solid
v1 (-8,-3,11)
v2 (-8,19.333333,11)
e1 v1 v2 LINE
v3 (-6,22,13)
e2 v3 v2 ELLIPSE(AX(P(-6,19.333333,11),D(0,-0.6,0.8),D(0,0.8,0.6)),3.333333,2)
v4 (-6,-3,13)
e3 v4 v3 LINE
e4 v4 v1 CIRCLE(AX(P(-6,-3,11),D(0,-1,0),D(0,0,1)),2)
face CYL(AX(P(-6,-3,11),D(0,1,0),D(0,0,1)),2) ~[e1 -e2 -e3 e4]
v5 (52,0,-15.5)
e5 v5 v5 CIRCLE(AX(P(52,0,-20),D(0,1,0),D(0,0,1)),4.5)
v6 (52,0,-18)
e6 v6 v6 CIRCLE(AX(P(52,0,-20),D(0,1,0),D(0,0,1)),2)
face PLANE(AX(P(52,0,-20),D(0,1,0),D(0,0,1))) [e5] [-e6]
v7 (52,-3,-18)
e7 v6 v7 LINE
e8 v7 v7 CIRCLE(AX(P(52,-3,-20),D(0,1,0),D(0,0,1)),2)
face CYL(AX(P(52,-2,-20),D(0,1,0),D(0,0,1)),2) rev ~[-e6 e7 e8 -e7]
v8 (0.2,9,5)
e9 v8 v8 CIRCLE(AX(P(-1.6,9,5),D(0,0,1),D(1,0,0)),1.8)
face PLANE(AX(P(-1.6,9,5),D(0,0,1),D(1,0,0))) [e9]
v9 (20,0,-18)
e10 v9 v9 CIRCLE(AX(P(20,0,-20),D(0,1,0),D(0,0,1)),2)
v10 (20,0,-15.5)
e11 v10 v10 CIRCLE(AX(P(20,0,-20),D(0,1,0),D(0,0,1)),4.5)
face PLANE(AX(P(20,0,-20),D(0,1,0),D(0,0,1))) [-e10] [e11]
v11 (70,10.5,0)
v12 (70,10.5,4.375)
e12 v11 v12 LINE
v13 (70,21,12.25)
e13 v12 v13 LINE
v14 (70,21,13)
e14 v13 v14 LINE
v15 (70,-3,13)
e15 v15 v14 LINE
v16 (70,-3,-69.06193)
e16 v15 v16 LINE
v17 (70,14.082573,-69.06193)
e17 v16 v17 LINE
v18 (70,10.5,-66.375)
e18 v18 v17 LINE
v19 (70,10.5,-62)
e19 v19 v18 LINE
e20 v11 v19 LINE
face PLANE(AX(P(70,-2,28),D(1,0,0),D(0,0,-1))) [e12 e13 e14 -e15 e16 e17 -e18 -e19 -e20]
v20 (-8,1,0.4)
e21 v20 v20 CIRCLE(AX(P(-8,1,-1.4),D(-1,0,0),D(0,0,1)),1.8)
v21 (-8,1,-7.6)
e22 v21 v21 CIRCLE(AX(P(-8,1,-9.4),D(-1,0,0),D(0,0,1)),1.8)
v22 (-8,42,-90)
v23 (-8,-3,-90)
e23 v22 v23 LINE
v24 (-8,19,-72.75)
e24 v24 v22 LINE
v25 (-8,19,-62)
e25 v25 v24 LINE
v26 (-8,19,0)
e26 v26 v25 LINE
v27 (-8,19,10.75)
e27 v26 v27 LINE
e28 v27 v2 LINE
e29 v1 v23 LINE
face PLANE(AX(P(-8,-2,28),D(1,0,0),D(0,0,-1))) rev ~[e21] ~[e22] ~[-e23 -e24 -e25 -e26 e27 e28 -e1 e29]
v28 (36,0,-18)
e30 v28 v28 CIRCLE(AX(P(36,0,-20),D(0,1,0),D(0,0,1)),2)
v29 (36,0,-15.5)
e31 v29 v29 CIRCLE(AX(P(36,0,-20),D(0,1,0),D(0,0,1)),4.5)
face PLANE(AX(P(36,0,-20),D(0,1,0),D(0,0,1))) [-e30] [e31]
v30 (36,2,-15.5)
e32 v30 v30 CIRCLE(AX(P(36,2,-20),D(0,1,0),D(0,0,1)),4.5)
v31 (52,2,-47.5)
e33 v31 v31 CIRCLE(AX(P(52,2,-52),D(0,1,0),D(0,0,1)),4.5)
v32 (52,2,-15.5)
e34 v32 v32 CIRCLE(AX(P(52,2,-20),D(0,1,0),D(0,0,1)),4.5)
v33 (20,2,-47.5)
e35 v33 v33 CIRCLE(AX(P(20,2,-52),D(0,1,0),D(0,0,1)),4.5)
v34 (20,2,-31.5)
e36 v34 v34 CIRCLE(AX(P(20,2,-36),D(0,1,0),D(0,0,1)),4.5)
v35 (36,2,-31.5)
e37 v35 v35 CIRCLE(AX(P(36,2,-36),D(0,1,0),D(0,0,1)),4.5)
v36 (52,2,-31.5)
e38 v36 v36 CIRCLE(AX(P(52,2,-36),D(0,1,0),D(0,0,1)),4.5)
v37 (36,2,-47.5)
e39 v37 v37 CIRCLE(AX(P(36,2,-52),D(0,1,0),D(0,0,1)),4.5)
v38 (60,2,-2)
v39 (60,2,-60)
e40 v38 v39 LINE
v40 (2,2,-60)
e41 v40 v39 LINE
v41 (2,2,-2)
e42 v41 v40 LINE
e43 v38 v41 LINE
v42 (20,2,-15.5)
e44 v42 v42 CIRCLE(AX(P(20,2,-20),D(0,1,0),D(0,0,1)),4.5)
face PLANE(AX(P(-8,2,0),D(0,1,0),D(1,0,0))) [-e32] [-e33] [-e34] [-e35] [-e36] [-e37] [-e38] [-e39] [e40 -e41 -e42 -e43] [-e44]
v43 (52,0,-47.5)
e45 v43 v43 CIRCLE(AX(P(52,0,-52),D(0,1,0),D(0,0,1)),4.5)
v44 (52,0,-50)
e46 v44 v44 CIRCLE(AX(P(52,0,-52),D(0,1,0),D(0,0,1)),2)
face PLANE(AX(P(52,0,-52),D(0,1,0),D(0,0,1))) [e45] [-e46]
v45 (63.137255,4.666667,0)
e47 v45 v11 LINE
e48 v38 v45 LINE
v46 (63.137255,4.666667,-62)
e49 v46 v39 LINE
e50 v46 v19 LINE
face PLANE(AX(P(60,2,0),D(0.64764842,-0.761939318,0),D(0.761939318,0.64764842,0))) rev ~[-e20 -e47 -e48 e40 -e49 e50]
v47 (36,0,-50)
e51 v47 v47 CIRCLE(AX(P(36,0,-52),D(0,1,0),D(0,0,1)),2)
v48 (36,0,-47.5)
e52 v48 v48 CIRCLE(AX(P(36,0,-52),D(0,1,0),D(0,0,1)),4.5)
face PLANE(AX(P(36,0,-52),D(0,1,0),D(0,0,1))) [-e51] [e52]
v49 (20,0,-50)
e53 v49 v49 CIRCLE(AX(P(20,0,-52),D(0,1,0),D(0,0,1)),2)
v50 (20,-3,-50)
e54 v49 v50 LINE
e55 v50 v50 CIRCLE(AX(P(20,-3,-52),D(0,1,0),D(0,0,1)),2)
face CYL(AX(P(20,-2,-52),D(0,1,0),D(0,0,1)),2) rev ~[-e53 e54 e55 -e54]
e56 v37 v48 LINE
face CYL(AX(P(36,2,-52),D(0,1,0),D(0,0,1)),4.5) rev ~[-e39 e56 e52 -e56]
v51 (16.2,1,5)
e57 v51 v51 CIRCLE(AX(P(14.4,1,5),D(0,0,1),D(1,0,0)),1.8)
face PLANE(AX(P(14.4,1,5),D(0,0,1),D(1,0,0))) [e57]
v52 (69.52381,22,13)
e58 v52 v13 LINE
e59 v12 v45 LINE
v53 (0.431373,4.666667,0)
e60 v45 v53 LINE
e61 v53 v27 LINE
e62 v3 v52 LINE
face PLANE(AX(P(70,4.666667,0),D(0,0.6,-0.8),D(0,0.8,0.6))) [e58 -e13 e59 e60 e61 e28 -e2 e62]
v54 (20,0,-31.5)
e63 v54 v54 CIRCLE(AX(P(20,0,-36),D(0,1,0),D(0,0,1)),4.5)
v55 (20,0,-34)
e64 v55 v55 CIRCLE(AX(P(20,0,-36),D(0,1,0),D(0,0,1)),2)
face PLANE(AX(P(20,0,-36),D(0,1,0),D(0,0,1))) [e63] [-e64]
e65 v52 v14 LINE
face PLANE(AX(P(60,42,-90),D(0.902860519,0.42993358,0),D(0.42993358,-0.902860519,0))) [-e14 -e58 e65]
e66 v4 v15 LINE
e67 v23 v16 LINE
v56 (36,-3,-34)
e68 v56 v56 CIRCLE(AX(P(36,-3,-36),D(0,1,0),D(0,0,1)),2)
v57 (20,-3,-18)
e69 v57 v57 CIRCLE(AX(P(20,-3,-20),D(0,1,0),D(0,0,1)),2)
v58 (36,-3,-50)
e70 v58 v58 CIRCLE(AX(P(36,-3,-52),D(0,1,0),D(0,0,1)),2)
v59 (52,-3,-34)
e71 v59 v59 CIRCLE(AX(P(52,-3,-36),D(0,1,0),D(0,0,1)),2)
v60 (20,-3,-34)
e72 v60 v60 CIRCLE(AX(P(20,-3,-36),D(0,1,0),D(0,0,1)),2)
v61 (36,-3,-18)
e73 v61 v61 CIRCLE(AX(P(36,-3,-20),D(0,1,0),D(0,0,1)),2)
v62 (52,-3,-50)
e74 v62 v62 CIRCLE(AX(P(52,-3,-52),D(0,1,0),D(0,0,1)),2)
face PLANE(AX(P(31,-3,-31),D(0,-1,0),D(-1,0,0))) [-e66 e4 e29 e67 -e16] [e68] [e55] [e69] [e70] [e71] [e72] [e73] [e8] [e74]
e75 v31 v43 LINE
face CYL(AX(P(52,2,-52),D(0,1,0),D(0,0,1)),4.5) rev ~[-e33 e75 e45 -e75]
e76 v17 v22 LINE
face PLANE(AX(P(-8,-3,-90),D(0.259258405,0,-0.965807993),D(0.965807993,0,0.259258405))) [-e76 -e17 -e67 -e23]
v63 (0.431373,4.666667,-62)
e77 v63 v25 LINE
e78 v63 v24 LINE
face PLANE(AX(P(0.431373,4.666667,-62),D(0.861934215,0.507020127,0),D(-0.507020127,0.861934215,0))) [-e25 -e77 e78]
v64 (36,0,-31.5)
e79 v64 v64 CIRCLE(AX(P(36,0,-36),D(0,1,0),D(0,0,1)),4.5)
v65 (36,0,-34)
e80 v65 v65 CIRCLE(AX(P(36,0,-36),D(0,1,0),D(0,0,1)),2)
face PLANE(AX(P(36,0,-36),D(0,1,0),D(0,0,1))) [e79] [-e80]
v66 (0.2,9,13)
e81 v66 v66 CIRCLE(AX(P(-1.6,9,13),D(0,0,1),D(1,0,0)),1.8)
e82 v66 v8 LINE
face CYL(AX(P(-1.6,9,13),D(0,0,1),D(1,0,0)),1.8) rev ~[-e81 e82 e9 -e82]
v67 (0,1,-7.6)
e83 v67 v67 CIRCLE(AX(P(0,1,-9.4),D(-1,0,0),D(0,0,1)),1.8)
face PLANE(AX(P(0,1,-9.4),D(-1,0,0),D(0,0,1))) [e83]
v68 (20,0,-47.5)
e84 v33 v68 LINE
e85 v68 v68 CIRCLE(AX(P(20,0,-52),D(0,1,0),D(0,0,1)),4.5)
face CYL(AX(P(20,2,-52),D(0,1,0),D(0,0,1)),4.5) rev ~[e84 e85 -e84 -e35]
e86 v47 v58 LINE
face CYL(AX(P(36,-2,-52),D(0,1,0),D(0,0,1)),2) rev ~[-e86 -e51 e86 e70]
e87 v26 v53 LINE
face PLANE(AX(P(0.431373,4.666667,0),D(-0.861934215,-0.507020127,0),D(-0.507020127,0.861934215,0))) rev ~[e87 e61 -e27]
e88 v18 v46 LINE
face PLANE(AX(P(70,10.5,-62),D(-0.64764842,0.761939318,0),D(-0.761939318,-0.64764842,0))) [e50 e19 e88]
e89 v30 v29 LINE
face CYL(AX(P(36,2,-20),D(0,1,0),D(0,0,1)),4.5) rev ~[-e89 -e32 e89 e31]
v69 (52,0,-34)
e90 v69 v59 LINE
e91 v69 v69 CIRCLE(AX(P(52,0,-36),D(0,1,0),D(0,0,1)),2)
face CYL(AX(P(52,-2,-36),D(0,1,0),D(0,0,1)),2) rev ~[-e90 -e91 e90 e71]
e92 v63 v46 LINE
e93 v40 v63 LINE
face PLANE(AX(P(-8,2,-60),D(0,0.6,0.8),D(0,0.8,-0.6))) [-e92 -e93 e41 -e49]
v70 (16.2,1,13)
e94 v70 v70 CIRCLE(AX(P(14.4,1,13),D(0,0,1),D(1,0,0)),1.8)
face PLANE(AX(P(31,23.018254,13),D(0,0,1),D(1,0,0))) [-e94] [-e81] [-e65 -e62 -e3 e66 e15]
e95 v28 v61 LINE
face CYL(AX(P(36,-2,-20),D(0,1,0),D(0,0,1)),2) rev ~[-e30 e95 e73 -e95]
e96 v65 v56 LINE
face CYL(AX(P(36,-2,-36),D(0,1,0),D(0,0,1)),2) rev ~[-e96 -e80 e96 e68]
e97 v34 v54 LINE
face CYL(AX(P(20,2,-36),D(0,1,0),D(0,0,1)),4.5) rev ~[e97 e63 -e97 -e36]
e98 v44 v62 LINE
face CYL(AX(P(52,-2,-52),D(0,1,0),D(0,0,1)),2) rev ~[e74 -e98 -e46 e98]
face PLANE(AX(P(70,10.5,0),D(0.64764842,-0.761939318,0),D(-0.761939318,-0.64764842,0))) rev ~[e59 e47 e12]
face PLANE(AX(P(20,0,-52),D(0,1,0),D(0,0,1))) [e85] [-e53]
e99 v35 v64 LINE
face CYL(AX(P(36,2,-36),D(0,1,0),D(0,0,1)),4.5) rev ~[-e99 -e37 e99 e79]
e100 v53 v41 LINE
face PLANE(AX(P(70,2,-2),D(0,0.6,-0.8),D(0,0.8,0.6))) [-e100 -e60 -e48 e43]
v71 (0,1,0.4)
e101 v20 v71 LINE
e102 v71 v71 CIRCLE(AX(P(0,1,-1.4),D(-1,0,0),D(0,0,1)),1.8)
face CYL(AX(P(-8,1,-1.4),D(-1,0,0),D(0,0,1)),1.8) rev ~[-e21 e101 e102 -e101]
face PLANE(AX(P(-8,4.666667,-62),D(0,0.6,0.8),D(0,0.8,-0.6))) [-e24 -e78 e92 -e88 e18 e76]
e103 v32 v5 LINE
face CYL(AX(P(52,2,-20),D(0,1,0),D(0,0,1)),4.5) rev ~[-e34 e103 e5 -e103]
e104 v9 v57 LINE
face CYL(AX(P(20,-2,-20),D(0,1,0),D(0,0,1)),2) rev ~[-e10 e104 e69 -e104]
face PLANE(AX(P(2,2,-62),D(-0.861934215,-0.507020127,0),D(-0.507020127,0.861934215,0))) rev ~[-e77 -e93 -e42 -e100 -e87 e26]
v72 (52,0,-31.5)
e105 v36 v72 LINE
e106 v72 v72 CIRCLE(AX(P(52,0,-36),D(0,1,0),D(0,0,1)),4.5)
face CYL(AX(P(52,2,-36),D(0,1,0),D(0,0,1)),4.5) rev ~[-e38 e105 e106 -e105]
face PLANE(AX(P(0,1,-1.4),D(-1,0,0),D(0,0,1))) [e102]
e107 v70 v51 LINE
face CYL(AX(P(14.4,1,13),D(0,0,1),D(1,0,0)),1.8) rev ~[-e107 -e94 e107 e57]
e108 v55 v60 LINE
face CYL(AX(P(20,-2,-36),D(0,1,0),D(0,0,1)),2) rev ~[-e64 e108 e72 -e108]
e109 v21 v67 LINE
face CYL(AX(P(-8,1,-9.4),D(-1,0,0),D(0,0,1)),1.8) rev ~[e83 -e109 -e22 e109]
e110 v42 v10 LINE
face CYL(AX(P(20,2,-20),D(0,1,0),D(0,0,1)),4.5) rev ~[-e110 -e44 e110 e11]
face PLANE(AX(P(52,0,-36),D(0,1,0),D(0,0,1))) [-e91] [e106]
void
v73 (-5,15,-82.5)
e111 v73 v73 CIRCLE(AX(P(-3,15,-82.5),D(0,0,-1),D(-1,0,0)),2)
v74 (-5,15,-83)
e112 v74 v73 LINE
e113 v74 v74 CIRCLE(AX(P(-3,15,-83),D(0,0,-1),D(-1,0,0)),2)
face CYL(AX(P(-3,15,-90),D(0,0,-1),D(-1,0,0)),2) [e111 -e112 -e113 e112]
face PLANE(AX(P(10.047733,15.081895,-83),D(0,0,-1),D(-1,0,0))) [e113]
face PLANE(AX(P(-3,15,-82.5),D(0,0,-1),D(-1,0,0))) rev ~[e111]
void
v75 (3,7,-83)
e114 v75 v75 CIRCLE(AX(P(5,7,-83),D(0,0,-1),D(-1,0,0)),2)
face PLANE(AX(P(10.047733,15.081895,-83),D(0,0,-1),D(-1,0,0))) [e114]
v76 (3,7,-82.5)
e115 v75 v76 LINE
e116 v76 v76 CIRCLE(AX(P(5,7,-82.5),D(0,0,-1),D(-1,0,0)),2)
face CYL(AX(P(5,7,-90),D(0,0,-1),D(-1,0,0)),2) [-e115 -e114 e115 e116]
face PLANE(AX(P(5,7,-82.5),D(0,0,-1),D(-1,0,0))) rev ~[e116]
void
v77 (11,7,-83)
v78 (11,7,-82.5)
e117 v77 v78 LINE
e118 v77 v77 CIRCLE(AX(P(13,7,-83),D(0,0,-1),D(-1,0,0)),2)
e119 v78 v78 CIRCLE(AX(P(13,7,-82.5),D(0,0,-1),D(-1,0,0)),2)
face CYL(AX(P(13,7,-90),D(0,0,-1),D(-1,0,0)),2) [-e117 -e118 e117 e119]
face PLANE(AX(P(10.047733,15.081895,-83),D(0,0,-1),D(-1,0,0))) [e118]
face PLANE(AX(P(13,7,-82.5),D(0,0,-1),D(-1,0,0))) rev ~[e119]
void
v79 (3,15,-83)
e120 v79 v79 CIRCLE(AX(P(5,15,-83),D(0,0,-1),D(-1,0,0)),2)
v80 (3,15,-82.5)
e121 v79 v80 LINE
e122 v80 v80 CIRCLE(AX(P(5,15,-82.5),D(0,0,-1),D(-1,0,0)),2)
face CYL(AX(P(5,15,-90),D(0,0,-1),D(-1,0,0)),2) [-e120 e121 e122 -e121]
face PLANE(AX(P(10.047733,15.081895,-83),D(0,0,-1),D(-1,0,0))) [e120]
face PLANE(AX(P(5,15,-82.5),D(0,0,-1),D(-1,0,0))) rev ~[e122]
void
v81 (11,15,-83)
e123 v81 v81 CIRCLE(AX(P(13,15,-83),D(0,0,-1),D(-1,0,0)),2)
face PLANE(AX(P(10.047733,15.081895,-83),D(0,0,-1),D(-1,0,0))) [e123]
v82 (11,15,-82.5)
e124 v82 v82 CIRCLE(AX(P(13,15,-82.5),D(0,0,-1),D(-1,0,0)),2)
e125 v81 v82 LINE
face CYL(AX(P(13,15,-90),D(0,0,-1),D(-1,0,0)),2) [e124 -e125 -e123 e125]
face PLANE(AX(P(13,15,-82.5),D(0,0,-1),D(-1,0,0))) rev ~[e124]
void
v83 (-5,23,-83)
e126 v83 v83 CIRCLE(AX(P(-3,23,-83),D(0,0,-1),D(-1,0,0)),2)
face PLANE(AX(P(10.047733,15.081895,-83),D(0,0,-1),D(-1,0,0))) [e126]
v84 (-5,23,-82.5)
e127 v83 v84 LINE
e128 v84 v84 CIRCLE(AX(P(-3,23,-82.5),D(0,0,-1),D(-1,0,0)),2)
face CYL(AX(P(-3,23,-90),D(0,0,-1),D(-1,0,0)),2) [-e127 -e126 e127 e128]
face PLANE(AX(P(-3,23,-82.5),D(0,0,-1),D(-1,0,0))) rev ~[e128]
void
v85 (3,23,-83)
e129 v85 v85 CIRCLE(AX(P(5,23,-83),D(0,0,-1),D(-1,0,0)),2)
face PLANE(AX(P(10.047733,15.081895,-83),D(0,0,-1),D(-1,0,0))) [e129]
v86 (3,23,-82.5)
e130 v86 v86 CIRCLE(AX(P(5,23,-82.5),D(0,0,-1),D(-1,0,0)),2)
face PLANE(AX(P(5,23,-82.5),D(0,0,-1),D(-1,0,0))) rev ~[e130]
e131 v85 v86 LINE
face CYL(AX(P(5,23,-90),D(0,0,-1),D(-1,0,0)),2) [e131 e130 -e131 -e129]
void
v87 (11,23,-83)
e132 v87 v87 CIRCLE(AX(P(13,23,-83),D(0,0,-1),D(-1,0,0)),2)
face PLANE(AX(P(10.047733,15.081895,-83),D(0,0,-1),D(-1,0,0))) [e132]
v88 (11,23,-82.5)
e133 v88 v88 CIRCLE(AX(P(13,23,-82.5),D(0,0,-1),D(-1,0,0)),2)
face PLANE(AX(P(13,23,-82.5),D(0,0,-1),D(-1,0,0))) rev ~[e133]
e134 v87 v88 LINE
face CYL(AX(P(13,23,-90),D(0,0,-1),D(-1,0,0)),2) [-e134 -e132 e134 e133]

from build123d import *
from build123d.topology import SkipClean

# Parameters (mm, degrees)
SKETCH_1_W           = 62
SKETCH_1_H           = 62
EXTRUDE_1_DEPTH      = 19
SKETCH_4_W           = 58
SKETCH_4_H           = 58
CUT_EXTRUDE_1_DEPTH  = 17
SKETCH_5_W           = 8
SKETCH_5_H           = 62
EXTRUDE_2_DEPTH      = 19
SKETCH_7_W           = 58
SKETCH_7_H           = 17
CUT_EXTRUDE_2_DEPTH  = 19
CUT_EXTRUDE_3_DEPTH  = 108
SKETCH_9_W           = 70
SKETCH_9_H           = 2
EXTRUDE_3_DEPTH      = 28
SKETCH_10_W          = 70
SKETCH_10_H          = 28
EXTRUDE_4_DEPTH      = 40
CUT_EXTRUDE_5_DEPTH  = 90
SKETCH_14_W          = 60
SKETCH_14_H          = 62
CUT_EXTRUDE_6_DEPTH  = 17
SKETCH_15_W          = 62
SKETCH_15_H          = 2
EXTRUDE_6_DEPTH      = 8
SKETCH_18_W          = 10
SKETCH_18_H          = 62
EXTRUDE_8_DEPTH      = 19
CUT_EXTRUDE_7_DEPTH  = 62
EXTRUDE_9_DEPTH      = 8
SKETCH_23_W          = 78
SKETCH_23_H          = 2
EXTRUDE_13_DEPTH     = 28
SKETCH_25_W          = 78
SKETCH_25_H          = 28
EXTRUDE_14_DEPTH     = 40
CUT_EXTRUDE_8_DEPTH  = 99
EXTRUDE_19_DEPTH     = 78
EXTRUDE_20_DEPTH     = 78
EXTRUDE_21_DEPTH     = 24
EXTRUDE_22_DEPTH     = 24
EXTRUDE_23_DEPTH     = 24
EXTRUDE_24_DEPTH     = 24
SKETCH_43_W          = 78
SKETCH_43_H          = 118
EXTRUDE_25_DEPTH     = 1
CUT_EXTRUDE_14_DEPTH = 127
CUT_EXTRUDE_15_DEPTH = 80
SKETCH_49_R          = 2
CUT_EXTRUDE_17_DEPTH = 19
SKETCH_50_R          = 4.5
CUT_EXTRUDE_18_DEPTH = 2
SKETCH_55_R          = 2
CUT_EXTRUDE_20_DEPTH = 7.5
SKETCH_57_W          = 36.095465849
SKETCH_57_H          = 32.16378967
EXTRUDE_26_DEPTH     = 7
SKETCH_63_R          = 1.8
CUT_EXTRUDE_23_DEPTH = 7.5
SKETCH_64_W          = 78
SKETCH_64_H          = 118
EXTRUDE_27_DEPTH     = 1
SKETCH_65_R          = 2
CUT_EXTRUDE_24_DEPTH = 29
SKETCH_66_W          = 78
SKETCH_66_H          = 118
EXTRUDE_28_DEPTH     = 1
SKETCH_68_R          = 2
CUT_EXTRUDE_25_DEPTH = 28
SKETCH_69_W          = 78
SKETCH_69_H          = 52.036508638
CUT_EXTRUDE_26_DEPTH = 15
FILLET_1_R           = 2
CUT_EXTRUDE_27_DEPTH = 123.576506721
SKETCH_73_R          = 1.8
CUT_EXTRUDE_28_DEPTH = 8
SKETCH_74_R          = 1.8
CUT_EXTRUDE_29_DEPTH = 8


with BuildPart() as part:
    # 草圖1 → 填料-伸長1 (new body)
    with BuildSketch(Plane(origin=(0, 0, 0), x_dir=(1, 0, 0), z_dir=(0, 1, 0))):
        with Locations((31, 31)):
            Rectangle(SKETCH_1_W, SKETCH_1_H)
    extrude(amount=EXTRUDE_1_DEPTH)

    # 草圖4 → 除料-伸長1 (cut)
    with BuildSketch(Plane(origin=(0, 19, 0), x_dir=(1, 0, 0), z_dir=(0, 1, 0))):
        with Locations((31, 31)):
            Rectangle(SKETCH_4_W, SKETCH_4_H)
    extrude(amount=-CUT_EXTRUDE_1_DEPTH, mode=Mode.SUBTRACT)

    # 草圖5 → 填料-伸長2 (add)
    with BuildSketch(Plane(origin=(0, 19, 0), x_dir=(1, 0, 0), z_dir=(0, 1, 0))):
        with Locations((-4, 31)):
            Rectangle(SKETCH_5_W, SKETCH_5_H)
    extrude(amount=-EXTRUDE_2_DEPTH)

    # 草圖7 → 除料-伸長2 (cut)
    with BuildSketch(Plane.XY.offset(-60)):
        with Locations((31, 10.5)):
            Rectangle(SKETCH_7_W, SKETCH_7_H)
    extrude(amount=-CUT_EXTRUDE_2_DEPTH, mode=Mode.SUBTRACT)

    # 草圖8 → 除料-伸長3 (cut)
    with BuildSketch(Plane(origin=(0, 0, -62), x_dir=(-1, 0, 0), z_dir=(0, 0, -1))):
        Polygon((-2, 2), (8, 19), (-2, 19), align=None)
    extrude(amount=-CUT_EXTRUDE_3_DEPTH, mode=Mode.SUBTRACT)

    # 草圖9 → 填料-伸長3 (add)
    with BuildSketch(Plane(origin=(0, 0, -62), x_dir=(-1, 0, 0), z_dir=(0, 0, -1))):
        with Locations((-27, 1)):
            Rectangle(SKETCH_9_W, SKETCH_9_H)
    extrude(amount=EXTRUDE_3_DEPTH)

    # 草圖10 → 填料-伸長4 (add)
    with BuildSketch(Plane(origin=(0, 2, 0), x_dir=(1, 0, 0), z_dir=(0, 1, 0))):
        with Locations((27, 76)):
            Rectangle(SKETCH_10_W, SKETCH_10_H)
    extrude(amount=EXTRUDE_4_DEPTH)

    # 草圖11 → 除料-伸長5 (cut)
    with BuildSketch(Plane.ZY.offset(8)):
        Polygon((-62, 42), (-62, 2), (-90, 42), align=None)
    extrude(amount=-CUT_EXTRUDE_5_DEPTH, mode=Mode.SUBTRACT)

    # 草圖14 → 除料-伸長6 (cut)
    with BuildSketch(Plane(origin=(0, 19, 0), x_dir=(1, 0, 0), z_dir=(0, 1, 0))):
        with Locations((32, 31)):
            Rectangle(SKETCH_14_W, SKETCH_14_H)
    extrude(amount=-CUT_EXTRUDE_6_DEPTH, mode=Mode.SUBTRACT)

    # 草圖15 → 填料-伸長6 (add)
    with BuildSketch(Plane(origin=(62, 0, 0), x_dir=(0, 0, -1), z_dir=(1, 0, 0))):
        with Locations((31, 1)):
            Rectangle(SKETCH_15_W, SKETCH_15_H)
    extrude(amount=EXTRUDE_6_DEPTH)

    # 草圖18 → 填料-伸長8 (add)
    with BuildSketch(Plane(origin=(0, 2, 0), x_dir=(1, 0, 0), z_dir=(0, 1, 0))):
        with Locations((65, 31)):
            Rectangle(SKETCH_18_W, SKETCH_18_H)
    extrude(amount=EXTRUDE_8_DEPTH)

    # 草圖19 → 除料-伸長7 (cut)
    with BuildSketch(Plane.XY):
        Polygon((60, 2), (70, 10.5), (70, 21), (60, 21), align=None)
    extrude(amount=-CUT_EXTRUDE_7_DEPTH, mode=Mode.SUBTRACT)

    # 草圖20 → 填料-伸長9 (add)
    with BuildSketch(Plane(origin=(62, 0, 0), x_dir=(0, 0, -1), z_dir=(1, 0, 0))):
        Polygon((90, 42), (62, 2), (62, 0), (90, 0), align=None)
    extrude(amount=EXTRUDE_9_DEPTH)

    # 草圖23 → 填料-伸長13 (add)
    with BuildSketch(Plane.XY):
        with Locations((31, 1)):
            Rectangle(SKETCH_23_W, SKETCH_23_H)
    extrude(amount=EXTRUDE_13_DEPTH)

    # 草圖25 → 填料-伸長14 (add)
    with BuildSketch(Plane(origin=(0, 2, 0), x_dir=(1, 0, 0), z_dir=(0, 1, 0))):
        with Locations((31, -14)):
            Rectangle(SKETCH_25_W, SKETCH_25_H)
    extrude(amount=EXTRUDE_14_DEPTH)

    # 草圖26 → 除料-伸長8 (cut)
    with BuildSketch(Plane.ZY.offset(8)):
        Polygon((28, 42), (0, 42), (0, 2), align=None)
    extrude(amount=-CUT_EXTRUDE_8_DEPTH, mode=Mode.SUBTRACT)

    # 草圖34 → 填料-伸長19 (add)
    with BuildSketch(Plane(origin=(70, 0, 0), x_dir=(0, 0, -1), z_dir=(1, 0, 0))):
        Polygon((-28, 2), (0, 2), (-28, 42), align=None)
        Polygon((-28, 42), (0, 2), (0, 4.666666667), align=None)
        Polygon((0, 4.666666667), (0, 2), (2, 2), align=None)
    extrude(amount=-EXTRUDE_19_DEPTH)

    # 草圖36 → 填料-伸長20 (add)
    with BuildSketch(Plane.ZY.offset(8)):
        Polygon((-90, 2), (-62, 2), (-90, 42), align=None)
        Polygon((-90, 42), (-62, 2), (-62, 4.666666667), align=None)
        Polygon((-62, 4.666666667), (-62, 2), (-60, 2), align=None)
    extrude(amount=-EXTRUDE_20_DEPTH)

    # 草圖37 → 填料-伸長21 (add)
    with BuildSketch(Plane(origin=(0, 0, -62), x_dir=(-1, 0, 0), z_dir=(0, 0, -1))):
        Polygon((8, 4.666666667), (-0.431372549, 4.666666667), (8, 19), align=None)
    extrude(amount=EXTRUDE_21_DEPTH)

    # 草圖38 → 填料-伸長22 (add)
    with BuildSketch(Plane(origin=(0, 0, -62), x_dir=(-1, 0, 0), z_dir=(0, 0, -1))):
        Polygon((-63.137254902, 4.666666667), (-70, 4.666666667), (-70, 10.5), align=None)
    extrude(amount=EXTRUDE_22_DEPTH)

    # 草圖39 → 填料-伸長23 (add)
    with BuildSketch(Plane.XY):
        Polygon((-8, 19), (-8, 4.666666667), (0.431372549, 4.666666667), align=None)
    extrude(amount=EXTRUDE_23_DEPTH)

    # 草圖40 → 填料-伸長24 (add)
    with BuildSketch(Plane.XY):
        Polygon((70, 10.5), (63.137254902, 4.666666667), (70, 4.666666667), align=None)
    extrude(amount=EXTRUDE_24_DEPTH)

    # 草圖43 → 填料-伸長25 (add)
    with BuildSketch(Plane(origin=(0, 0, 0), x_dir=(-1, 0, 0), z_dir=(0, -1, 0))):
        with Locations((-31, 31)):
            Rectangle(SKETCH_43_W, SKETCH_43_H)
    extrude(amount=EXTRUDE_25_DEPTH)

    # 草圖46 → 除料-伸長14 (cut)
    with BuildSketch(Plane(origin=(0, 0, -90), x_dir=(-1, 0, 0), z_dir=(0, 0, -1))):
        Polygon((-70, 42), (-60, 42), (-70, 21), align=None)
    extrude(amount=-CUT_EXTRUDE_14_DEPTH, mode=Mode.SUBTRACT)

    # 草圖47 → 除料-伸長15 (cut)
    with BuildSketch(Plane.XY.offset(28)):
        Polygon((-8, 42), (2, 42), (-8, 21), align=None)
    extrude(amount=-CUT_EXTRUDE_15_DEPTH, mode=Mode.SUBTRACT)

    # 草圖49 → 除料-伸長17 (cut)
    with BuildSketch(Plane(origin=(0, 2, 0), x_dir=(1, 0, 0), z_dir=(0, 1, 0))):
        with Locations(Location((52, 52, 0), (0, 0, 270))):
            Circle(SKETCH_49_R)
        with Locations(Location((36, 52, 0), (0, 0, 270))):
            Circle(SKETCH_49_R)
        with Locations(Location((20, 52, 0), (0, 0, 270))):
            Circle(SKETCH_49_R)
        with Locations(Location((36, 36, 0), (0, 0, 270))):
            Circle(SKETCH_49_R)
        with Locations(Location((20, 36, 0), (0, 0, 270))):
            Circle(SKETCH_49_R)
        with Locations(Location((36, 20, 0), (0, 0, 270))):
            Circle(SKETCH_49_R)
        with Locations(Location((20, 20, 0), (0, 0, 270))):
            Circle(SKETCH_49_R)
        with Locations(Location((52, 36, 0), (0, 0, 270))):
            Circle(SKETCH_49_R)
        with Locations(Location((52, 20, 0), (0, 0, 270))):
            Circle(SKETCH_49_R)
    extrude(amount=-CUT_EXTRUDE_17_DEPTH, mode=Mode.SUBTRACT)

    # 草圖50 → 除料-伸長18 (cut)
    with BuildSketch(Plane(origin=(0, 2, 0), x_dir=(1, 0, 0), z_dir=(0, 1, 0))):
        with Locations(Location((52, 20, 0), (0, 0, 270))):
            Circle(SKETCH_50_R)
        with Locations(Location((36, 20, 0), (0, 0, 270))):
            Circle(SKETCH_50_R)
        with Locations(Location((20, 20, 0), (0, 0, 270))):
            Circle(SKETCH_50_R)
        with Locations(Location((36, 36, 0), (0, 0, 270))):
            Circle(SKETCH_50_R)
        with Locations(Location((20, 36, 0), (0, 0, 270))):
            Circle(SKETCH_50_R)
        with Locations(Location((36, 52, 0), (0, 0, 270))):
            Circle(SKETCH_50_R)
        with Locations(Location((20, 52, 0), (0, 0, 270))):
            Circle(SKETCH_50_R)
        with Locations(Location((52, 36, 0), (0, 0, 270))):
            Circle(SKETCH_50_R)
        with Locations(Location((52, 52, 0), (0, 0, 270))):
            Circle(SKETCH_50_R)
    extrude(amount=-CUT_EXTRUDE_18_DEPTH, mode=Mode.SUBTRACT)

    # 草圖55 → 除料-伸長20 (cut)
    with BuildSketch(Plane(origin=(0, 0, -90), x_dir=(-1, 0, 0), z_dir=(0, 0, -1))):
        with Locations((-5, 7)):
            Circle(SKETCH_55_R)
        with Locations((-13, 7)):
            Circle(SKETCH_55_R)
        with Locations((-5, 15)):
            Circle(SKETCH_55_R)
        with Locations((-13, 15)):
            Circle(SKETCH_55_R)
        with Locations((-5, 23)):
            Circle(SKETCH_55_R)
        with Locations((-13, 23)):
            Circle(SKETCH_55_R)
        with Locations((3, 15)):
            Circle(SKETCH_55_R)
        with Locations((3, 23)):
            Circle(SKETCH_55_R)
    extrude(amount=-CUT_EXTRUDE_20_DEPTH, mode=Mode.SUBTRACT)

    # 草圖57 → 填料-伸長26 (add)
    with SkipClean():  # the faces are left unmerged after this step: merging them gives an invalid solid
        with BuildSketch(Plane(origin=(0, 0, -90), x_dir=(-1, 0, 0), z_dir=(0, 0, -1))):
            with Locations((-10.047732924, 15.081894835)):
                Rectangle(SKETCH_57_W, SKETCH_57_H)
        extrude(amount=-EXTRUDE_26_DEPTH)

    # 草圖63 → 除料-伸長23 (cut)
    with SkipClean():  # the faces are left unmerged after this step: merging them gives an invalid solid
        with BuildSketch(Plane(origin=(0, 0, -90), x_dir=(-1, 0, 0), z_dir=(0, 0, -1))):
            with Locations((-64, 7)):
                Circle(SKETCH_63_R)
            with Locations((-56, 7)):
                Circle(SKETCH_63_R)
            with Locations((-48, 7)):
                Circle(SKETCH_63_R)
            with Locations((-56, 15)):
                Circle(SKETCH_63_R)
            with Locations((-48, 15)):
                Circle(SKETCH_63_R)
            with Locations((-56, 23)):
                Circle(SKETCH_63_R)
            with Locations((-48, 23)):
                Circle(SKETCH_63_R)
            with Locations((-64, 15)):
                Circle(SKETCH_63_R)
            with Locations((-64, 23)):
                Circle(SKETCH_63_R)
        extrude(amount=-CUT_EXTRUDE_23_DEPTH, mode=Mode.SUBTRACT)

    # 草圖64 → 填料-伸長27 (add)
    with SkipClean():  # the faces are left unmerged after this step: merging them gives an invalid solid
        with BuildSketch(Plane(origin=(0, -1, 0), x_dir=(-1, 0, 0), z_dir=(0, -1, 0))):
            with Locations((-31, 31)):
                Rectangle(SKETCH_64_W, SKETCH_64_H)
        extrude(amount=EXTRUDE_27_DEPTH)

    # 草圖65 → 除料-伸長24 (cut)
    with SkipClean():  # the faces are left unmerged after this step: merging them gives an invalid solid
        with BuildSketch(Plane(origin=(0, -1, 0), x_dir=(1, 0, 0), z_dir=(0, 1, 0))):
            with Locations(Location((52, 52, 0), (0, 0, 270))):
                Circle(SKETCH_65_R)
            with Locations(Location((36, 52, 0), (0, 0, 270))):
                Circle(SKETCH_65_R)
            with Locations(Location((20, 52, 0), (0, 0, 270))):
                Circle(SKETCH_65_R)
            with Locations(Location((36, 36, 0), (0, 0, 270))):
                Circle(SKETCH_65_R)
            with Locations(Location((20, 36, 0), (0, 0, 270))):
                Circle(SKETCH_65_R)
            with Locations(Location((36, 20, 0), (0, 0, 270))):
                Circle(SKETCH_65_R)
            with Locations(Location((20, 20, 0), (0, 0, 270))):
                Circle(SKETCH_65_R)
            with Locations(Location((52, 36, 0), (0, 0, 270))):
                Circle(SKETCH_65_R)
            with Locations(Location((52, 20, 0), (0, 0, 270))):
                Circle(SKETCH_65_R)
        extrude(amount=-CUT_EXTRUDE_24_DEPTH, mode=Mode.SUBTRACT)

    # 草圖66 → 填料-伸長28 (add)
    with SkipClean():  # the faces are left unmerged after this step: merging them gives an invalid solid
        with BuildSketch(Plane(origin=(0, -2, 0), x_dir=(-1, 0, 0), z_dir=(0, -1, 0))):
            with Locations((-31, 31)):
                Rectangle(SKETCH_66_W, SKETCH_66_H)
        extrude(amount=EXTRUDE_28_DEPTH)

    # 草圖68 → 除料-伸長25 (cut)
    with SkipClean():  # the faces are left unmerged after this step: merging them gives an invalid solid
        with BuildSketch(Plane(origin=(0, -2, 0), x_dir=(1, 0, 0), z_dir=(0, 1, 0))):
            with Locations(Location((20, 20, 0), (0, 0, 270))):
                Circle(SKETCH_68_R)
            with Locations(Location((36, 20, 0), (0, 0, 270))):
                Circle(SKETCH_68_R)
            with Locations(Location((52, 20, 0), (0, 0, 270))):
                Circle(SKETCH_68_R)
            with Locations(Location((36, 36, 0), (0, 0, 270))):
                Circle(SKETCH_68_R)
            with Locations(Location((52, 36, 0), (0, 0, 270))):
                Circle(SKETCH_68_R)
            with Locations(Location((36, 52, 0), (0, 0, 270))):
                Circle(SKETCH_68_R)
            with Locations(Location((52, 52, 0), (0, 0, 270))):
                Circle(SKETCH_68_R)
            with Locations(Location((20, 36, 0), (0, 0, 270))):
                Circle(SKETCH_68_R)
            with Locations(Location((20, 52, 0), (0, 0, 270))):
                Circle(SKETCH_68_R)
        extrude(amount=-CUT_EXTRUDE_25_DEPTH, mode=Mode.SUBTRACT)

    # 草圖69 → 除料-伸長26 (cut)
    with SkipClean():  # the faces are left unmerged after this step: merging them gives an invalid solid
        with BuildSketch(Plane.XY.offset(28)):
            with Locations((31, 23.018254319)):
                Rectangle(SKETCH_69_W, SKETCH_69_H)
        extrude(amount=-CUT_EXTRUDE_26_DEPTH, mode=Mode.SUBTRACT)

    # 圓角1
    fillet_1_edges = [part.edges().sort_by_distance(p)[0] for p in [
        (-8, 10, 13),
    ]]
    fillet(fillet_1_edges, radius=FILLET_1_R)

    # 草圖71 → 除料-伸長27 (cut, through all)
    with SkipClean():  # the faces are left unmerged after this step: merging them gives an invalid solid
        with BuildSketch(Plane.XZ.offset(3)):
            Polygon((-8, -90), (70, -69.061929779), (70, -90), align=None)
        extrude(amount=-CUT_EXTRUDE_27_DEPTH, mode=Mode.SUBTRACT)

    # 草圖73 → 除料-伸長28 (cut)
    with SkipClean():  # the faces are left unmerged after this step: merging them gives an invalid solid
        with BuildSketch(Plane.ZY.offset(8)):
            with Locations((-9.4, 1)):
                Circle(SKETCH_73_R)
            with Locations((-1.4, 1)):
                Circle(SKETCH_73_R)
        extrude(amount=-CUT_EXTRUDE_28_DEPTH, mode=Mode.SUBTRACT)

    # 草圖74 → 除料-伸長29 (cut)
    with SkipClean():  # the faces are left unmerged after this step: merging them gives an invalid solid
        with BuildSketch(Plane.XY.offset(13)):
            with Locations((-1.6, 9)):
                Circle(SKETCH_74_R)
            with Locations((14.4, 1)):
                Circle(SKETCH_74_R)
        extrude(amount=-CUT_EXTRUDE_29_DEPTH, mode=Mode.SUBTRACT)


solid = part.part
